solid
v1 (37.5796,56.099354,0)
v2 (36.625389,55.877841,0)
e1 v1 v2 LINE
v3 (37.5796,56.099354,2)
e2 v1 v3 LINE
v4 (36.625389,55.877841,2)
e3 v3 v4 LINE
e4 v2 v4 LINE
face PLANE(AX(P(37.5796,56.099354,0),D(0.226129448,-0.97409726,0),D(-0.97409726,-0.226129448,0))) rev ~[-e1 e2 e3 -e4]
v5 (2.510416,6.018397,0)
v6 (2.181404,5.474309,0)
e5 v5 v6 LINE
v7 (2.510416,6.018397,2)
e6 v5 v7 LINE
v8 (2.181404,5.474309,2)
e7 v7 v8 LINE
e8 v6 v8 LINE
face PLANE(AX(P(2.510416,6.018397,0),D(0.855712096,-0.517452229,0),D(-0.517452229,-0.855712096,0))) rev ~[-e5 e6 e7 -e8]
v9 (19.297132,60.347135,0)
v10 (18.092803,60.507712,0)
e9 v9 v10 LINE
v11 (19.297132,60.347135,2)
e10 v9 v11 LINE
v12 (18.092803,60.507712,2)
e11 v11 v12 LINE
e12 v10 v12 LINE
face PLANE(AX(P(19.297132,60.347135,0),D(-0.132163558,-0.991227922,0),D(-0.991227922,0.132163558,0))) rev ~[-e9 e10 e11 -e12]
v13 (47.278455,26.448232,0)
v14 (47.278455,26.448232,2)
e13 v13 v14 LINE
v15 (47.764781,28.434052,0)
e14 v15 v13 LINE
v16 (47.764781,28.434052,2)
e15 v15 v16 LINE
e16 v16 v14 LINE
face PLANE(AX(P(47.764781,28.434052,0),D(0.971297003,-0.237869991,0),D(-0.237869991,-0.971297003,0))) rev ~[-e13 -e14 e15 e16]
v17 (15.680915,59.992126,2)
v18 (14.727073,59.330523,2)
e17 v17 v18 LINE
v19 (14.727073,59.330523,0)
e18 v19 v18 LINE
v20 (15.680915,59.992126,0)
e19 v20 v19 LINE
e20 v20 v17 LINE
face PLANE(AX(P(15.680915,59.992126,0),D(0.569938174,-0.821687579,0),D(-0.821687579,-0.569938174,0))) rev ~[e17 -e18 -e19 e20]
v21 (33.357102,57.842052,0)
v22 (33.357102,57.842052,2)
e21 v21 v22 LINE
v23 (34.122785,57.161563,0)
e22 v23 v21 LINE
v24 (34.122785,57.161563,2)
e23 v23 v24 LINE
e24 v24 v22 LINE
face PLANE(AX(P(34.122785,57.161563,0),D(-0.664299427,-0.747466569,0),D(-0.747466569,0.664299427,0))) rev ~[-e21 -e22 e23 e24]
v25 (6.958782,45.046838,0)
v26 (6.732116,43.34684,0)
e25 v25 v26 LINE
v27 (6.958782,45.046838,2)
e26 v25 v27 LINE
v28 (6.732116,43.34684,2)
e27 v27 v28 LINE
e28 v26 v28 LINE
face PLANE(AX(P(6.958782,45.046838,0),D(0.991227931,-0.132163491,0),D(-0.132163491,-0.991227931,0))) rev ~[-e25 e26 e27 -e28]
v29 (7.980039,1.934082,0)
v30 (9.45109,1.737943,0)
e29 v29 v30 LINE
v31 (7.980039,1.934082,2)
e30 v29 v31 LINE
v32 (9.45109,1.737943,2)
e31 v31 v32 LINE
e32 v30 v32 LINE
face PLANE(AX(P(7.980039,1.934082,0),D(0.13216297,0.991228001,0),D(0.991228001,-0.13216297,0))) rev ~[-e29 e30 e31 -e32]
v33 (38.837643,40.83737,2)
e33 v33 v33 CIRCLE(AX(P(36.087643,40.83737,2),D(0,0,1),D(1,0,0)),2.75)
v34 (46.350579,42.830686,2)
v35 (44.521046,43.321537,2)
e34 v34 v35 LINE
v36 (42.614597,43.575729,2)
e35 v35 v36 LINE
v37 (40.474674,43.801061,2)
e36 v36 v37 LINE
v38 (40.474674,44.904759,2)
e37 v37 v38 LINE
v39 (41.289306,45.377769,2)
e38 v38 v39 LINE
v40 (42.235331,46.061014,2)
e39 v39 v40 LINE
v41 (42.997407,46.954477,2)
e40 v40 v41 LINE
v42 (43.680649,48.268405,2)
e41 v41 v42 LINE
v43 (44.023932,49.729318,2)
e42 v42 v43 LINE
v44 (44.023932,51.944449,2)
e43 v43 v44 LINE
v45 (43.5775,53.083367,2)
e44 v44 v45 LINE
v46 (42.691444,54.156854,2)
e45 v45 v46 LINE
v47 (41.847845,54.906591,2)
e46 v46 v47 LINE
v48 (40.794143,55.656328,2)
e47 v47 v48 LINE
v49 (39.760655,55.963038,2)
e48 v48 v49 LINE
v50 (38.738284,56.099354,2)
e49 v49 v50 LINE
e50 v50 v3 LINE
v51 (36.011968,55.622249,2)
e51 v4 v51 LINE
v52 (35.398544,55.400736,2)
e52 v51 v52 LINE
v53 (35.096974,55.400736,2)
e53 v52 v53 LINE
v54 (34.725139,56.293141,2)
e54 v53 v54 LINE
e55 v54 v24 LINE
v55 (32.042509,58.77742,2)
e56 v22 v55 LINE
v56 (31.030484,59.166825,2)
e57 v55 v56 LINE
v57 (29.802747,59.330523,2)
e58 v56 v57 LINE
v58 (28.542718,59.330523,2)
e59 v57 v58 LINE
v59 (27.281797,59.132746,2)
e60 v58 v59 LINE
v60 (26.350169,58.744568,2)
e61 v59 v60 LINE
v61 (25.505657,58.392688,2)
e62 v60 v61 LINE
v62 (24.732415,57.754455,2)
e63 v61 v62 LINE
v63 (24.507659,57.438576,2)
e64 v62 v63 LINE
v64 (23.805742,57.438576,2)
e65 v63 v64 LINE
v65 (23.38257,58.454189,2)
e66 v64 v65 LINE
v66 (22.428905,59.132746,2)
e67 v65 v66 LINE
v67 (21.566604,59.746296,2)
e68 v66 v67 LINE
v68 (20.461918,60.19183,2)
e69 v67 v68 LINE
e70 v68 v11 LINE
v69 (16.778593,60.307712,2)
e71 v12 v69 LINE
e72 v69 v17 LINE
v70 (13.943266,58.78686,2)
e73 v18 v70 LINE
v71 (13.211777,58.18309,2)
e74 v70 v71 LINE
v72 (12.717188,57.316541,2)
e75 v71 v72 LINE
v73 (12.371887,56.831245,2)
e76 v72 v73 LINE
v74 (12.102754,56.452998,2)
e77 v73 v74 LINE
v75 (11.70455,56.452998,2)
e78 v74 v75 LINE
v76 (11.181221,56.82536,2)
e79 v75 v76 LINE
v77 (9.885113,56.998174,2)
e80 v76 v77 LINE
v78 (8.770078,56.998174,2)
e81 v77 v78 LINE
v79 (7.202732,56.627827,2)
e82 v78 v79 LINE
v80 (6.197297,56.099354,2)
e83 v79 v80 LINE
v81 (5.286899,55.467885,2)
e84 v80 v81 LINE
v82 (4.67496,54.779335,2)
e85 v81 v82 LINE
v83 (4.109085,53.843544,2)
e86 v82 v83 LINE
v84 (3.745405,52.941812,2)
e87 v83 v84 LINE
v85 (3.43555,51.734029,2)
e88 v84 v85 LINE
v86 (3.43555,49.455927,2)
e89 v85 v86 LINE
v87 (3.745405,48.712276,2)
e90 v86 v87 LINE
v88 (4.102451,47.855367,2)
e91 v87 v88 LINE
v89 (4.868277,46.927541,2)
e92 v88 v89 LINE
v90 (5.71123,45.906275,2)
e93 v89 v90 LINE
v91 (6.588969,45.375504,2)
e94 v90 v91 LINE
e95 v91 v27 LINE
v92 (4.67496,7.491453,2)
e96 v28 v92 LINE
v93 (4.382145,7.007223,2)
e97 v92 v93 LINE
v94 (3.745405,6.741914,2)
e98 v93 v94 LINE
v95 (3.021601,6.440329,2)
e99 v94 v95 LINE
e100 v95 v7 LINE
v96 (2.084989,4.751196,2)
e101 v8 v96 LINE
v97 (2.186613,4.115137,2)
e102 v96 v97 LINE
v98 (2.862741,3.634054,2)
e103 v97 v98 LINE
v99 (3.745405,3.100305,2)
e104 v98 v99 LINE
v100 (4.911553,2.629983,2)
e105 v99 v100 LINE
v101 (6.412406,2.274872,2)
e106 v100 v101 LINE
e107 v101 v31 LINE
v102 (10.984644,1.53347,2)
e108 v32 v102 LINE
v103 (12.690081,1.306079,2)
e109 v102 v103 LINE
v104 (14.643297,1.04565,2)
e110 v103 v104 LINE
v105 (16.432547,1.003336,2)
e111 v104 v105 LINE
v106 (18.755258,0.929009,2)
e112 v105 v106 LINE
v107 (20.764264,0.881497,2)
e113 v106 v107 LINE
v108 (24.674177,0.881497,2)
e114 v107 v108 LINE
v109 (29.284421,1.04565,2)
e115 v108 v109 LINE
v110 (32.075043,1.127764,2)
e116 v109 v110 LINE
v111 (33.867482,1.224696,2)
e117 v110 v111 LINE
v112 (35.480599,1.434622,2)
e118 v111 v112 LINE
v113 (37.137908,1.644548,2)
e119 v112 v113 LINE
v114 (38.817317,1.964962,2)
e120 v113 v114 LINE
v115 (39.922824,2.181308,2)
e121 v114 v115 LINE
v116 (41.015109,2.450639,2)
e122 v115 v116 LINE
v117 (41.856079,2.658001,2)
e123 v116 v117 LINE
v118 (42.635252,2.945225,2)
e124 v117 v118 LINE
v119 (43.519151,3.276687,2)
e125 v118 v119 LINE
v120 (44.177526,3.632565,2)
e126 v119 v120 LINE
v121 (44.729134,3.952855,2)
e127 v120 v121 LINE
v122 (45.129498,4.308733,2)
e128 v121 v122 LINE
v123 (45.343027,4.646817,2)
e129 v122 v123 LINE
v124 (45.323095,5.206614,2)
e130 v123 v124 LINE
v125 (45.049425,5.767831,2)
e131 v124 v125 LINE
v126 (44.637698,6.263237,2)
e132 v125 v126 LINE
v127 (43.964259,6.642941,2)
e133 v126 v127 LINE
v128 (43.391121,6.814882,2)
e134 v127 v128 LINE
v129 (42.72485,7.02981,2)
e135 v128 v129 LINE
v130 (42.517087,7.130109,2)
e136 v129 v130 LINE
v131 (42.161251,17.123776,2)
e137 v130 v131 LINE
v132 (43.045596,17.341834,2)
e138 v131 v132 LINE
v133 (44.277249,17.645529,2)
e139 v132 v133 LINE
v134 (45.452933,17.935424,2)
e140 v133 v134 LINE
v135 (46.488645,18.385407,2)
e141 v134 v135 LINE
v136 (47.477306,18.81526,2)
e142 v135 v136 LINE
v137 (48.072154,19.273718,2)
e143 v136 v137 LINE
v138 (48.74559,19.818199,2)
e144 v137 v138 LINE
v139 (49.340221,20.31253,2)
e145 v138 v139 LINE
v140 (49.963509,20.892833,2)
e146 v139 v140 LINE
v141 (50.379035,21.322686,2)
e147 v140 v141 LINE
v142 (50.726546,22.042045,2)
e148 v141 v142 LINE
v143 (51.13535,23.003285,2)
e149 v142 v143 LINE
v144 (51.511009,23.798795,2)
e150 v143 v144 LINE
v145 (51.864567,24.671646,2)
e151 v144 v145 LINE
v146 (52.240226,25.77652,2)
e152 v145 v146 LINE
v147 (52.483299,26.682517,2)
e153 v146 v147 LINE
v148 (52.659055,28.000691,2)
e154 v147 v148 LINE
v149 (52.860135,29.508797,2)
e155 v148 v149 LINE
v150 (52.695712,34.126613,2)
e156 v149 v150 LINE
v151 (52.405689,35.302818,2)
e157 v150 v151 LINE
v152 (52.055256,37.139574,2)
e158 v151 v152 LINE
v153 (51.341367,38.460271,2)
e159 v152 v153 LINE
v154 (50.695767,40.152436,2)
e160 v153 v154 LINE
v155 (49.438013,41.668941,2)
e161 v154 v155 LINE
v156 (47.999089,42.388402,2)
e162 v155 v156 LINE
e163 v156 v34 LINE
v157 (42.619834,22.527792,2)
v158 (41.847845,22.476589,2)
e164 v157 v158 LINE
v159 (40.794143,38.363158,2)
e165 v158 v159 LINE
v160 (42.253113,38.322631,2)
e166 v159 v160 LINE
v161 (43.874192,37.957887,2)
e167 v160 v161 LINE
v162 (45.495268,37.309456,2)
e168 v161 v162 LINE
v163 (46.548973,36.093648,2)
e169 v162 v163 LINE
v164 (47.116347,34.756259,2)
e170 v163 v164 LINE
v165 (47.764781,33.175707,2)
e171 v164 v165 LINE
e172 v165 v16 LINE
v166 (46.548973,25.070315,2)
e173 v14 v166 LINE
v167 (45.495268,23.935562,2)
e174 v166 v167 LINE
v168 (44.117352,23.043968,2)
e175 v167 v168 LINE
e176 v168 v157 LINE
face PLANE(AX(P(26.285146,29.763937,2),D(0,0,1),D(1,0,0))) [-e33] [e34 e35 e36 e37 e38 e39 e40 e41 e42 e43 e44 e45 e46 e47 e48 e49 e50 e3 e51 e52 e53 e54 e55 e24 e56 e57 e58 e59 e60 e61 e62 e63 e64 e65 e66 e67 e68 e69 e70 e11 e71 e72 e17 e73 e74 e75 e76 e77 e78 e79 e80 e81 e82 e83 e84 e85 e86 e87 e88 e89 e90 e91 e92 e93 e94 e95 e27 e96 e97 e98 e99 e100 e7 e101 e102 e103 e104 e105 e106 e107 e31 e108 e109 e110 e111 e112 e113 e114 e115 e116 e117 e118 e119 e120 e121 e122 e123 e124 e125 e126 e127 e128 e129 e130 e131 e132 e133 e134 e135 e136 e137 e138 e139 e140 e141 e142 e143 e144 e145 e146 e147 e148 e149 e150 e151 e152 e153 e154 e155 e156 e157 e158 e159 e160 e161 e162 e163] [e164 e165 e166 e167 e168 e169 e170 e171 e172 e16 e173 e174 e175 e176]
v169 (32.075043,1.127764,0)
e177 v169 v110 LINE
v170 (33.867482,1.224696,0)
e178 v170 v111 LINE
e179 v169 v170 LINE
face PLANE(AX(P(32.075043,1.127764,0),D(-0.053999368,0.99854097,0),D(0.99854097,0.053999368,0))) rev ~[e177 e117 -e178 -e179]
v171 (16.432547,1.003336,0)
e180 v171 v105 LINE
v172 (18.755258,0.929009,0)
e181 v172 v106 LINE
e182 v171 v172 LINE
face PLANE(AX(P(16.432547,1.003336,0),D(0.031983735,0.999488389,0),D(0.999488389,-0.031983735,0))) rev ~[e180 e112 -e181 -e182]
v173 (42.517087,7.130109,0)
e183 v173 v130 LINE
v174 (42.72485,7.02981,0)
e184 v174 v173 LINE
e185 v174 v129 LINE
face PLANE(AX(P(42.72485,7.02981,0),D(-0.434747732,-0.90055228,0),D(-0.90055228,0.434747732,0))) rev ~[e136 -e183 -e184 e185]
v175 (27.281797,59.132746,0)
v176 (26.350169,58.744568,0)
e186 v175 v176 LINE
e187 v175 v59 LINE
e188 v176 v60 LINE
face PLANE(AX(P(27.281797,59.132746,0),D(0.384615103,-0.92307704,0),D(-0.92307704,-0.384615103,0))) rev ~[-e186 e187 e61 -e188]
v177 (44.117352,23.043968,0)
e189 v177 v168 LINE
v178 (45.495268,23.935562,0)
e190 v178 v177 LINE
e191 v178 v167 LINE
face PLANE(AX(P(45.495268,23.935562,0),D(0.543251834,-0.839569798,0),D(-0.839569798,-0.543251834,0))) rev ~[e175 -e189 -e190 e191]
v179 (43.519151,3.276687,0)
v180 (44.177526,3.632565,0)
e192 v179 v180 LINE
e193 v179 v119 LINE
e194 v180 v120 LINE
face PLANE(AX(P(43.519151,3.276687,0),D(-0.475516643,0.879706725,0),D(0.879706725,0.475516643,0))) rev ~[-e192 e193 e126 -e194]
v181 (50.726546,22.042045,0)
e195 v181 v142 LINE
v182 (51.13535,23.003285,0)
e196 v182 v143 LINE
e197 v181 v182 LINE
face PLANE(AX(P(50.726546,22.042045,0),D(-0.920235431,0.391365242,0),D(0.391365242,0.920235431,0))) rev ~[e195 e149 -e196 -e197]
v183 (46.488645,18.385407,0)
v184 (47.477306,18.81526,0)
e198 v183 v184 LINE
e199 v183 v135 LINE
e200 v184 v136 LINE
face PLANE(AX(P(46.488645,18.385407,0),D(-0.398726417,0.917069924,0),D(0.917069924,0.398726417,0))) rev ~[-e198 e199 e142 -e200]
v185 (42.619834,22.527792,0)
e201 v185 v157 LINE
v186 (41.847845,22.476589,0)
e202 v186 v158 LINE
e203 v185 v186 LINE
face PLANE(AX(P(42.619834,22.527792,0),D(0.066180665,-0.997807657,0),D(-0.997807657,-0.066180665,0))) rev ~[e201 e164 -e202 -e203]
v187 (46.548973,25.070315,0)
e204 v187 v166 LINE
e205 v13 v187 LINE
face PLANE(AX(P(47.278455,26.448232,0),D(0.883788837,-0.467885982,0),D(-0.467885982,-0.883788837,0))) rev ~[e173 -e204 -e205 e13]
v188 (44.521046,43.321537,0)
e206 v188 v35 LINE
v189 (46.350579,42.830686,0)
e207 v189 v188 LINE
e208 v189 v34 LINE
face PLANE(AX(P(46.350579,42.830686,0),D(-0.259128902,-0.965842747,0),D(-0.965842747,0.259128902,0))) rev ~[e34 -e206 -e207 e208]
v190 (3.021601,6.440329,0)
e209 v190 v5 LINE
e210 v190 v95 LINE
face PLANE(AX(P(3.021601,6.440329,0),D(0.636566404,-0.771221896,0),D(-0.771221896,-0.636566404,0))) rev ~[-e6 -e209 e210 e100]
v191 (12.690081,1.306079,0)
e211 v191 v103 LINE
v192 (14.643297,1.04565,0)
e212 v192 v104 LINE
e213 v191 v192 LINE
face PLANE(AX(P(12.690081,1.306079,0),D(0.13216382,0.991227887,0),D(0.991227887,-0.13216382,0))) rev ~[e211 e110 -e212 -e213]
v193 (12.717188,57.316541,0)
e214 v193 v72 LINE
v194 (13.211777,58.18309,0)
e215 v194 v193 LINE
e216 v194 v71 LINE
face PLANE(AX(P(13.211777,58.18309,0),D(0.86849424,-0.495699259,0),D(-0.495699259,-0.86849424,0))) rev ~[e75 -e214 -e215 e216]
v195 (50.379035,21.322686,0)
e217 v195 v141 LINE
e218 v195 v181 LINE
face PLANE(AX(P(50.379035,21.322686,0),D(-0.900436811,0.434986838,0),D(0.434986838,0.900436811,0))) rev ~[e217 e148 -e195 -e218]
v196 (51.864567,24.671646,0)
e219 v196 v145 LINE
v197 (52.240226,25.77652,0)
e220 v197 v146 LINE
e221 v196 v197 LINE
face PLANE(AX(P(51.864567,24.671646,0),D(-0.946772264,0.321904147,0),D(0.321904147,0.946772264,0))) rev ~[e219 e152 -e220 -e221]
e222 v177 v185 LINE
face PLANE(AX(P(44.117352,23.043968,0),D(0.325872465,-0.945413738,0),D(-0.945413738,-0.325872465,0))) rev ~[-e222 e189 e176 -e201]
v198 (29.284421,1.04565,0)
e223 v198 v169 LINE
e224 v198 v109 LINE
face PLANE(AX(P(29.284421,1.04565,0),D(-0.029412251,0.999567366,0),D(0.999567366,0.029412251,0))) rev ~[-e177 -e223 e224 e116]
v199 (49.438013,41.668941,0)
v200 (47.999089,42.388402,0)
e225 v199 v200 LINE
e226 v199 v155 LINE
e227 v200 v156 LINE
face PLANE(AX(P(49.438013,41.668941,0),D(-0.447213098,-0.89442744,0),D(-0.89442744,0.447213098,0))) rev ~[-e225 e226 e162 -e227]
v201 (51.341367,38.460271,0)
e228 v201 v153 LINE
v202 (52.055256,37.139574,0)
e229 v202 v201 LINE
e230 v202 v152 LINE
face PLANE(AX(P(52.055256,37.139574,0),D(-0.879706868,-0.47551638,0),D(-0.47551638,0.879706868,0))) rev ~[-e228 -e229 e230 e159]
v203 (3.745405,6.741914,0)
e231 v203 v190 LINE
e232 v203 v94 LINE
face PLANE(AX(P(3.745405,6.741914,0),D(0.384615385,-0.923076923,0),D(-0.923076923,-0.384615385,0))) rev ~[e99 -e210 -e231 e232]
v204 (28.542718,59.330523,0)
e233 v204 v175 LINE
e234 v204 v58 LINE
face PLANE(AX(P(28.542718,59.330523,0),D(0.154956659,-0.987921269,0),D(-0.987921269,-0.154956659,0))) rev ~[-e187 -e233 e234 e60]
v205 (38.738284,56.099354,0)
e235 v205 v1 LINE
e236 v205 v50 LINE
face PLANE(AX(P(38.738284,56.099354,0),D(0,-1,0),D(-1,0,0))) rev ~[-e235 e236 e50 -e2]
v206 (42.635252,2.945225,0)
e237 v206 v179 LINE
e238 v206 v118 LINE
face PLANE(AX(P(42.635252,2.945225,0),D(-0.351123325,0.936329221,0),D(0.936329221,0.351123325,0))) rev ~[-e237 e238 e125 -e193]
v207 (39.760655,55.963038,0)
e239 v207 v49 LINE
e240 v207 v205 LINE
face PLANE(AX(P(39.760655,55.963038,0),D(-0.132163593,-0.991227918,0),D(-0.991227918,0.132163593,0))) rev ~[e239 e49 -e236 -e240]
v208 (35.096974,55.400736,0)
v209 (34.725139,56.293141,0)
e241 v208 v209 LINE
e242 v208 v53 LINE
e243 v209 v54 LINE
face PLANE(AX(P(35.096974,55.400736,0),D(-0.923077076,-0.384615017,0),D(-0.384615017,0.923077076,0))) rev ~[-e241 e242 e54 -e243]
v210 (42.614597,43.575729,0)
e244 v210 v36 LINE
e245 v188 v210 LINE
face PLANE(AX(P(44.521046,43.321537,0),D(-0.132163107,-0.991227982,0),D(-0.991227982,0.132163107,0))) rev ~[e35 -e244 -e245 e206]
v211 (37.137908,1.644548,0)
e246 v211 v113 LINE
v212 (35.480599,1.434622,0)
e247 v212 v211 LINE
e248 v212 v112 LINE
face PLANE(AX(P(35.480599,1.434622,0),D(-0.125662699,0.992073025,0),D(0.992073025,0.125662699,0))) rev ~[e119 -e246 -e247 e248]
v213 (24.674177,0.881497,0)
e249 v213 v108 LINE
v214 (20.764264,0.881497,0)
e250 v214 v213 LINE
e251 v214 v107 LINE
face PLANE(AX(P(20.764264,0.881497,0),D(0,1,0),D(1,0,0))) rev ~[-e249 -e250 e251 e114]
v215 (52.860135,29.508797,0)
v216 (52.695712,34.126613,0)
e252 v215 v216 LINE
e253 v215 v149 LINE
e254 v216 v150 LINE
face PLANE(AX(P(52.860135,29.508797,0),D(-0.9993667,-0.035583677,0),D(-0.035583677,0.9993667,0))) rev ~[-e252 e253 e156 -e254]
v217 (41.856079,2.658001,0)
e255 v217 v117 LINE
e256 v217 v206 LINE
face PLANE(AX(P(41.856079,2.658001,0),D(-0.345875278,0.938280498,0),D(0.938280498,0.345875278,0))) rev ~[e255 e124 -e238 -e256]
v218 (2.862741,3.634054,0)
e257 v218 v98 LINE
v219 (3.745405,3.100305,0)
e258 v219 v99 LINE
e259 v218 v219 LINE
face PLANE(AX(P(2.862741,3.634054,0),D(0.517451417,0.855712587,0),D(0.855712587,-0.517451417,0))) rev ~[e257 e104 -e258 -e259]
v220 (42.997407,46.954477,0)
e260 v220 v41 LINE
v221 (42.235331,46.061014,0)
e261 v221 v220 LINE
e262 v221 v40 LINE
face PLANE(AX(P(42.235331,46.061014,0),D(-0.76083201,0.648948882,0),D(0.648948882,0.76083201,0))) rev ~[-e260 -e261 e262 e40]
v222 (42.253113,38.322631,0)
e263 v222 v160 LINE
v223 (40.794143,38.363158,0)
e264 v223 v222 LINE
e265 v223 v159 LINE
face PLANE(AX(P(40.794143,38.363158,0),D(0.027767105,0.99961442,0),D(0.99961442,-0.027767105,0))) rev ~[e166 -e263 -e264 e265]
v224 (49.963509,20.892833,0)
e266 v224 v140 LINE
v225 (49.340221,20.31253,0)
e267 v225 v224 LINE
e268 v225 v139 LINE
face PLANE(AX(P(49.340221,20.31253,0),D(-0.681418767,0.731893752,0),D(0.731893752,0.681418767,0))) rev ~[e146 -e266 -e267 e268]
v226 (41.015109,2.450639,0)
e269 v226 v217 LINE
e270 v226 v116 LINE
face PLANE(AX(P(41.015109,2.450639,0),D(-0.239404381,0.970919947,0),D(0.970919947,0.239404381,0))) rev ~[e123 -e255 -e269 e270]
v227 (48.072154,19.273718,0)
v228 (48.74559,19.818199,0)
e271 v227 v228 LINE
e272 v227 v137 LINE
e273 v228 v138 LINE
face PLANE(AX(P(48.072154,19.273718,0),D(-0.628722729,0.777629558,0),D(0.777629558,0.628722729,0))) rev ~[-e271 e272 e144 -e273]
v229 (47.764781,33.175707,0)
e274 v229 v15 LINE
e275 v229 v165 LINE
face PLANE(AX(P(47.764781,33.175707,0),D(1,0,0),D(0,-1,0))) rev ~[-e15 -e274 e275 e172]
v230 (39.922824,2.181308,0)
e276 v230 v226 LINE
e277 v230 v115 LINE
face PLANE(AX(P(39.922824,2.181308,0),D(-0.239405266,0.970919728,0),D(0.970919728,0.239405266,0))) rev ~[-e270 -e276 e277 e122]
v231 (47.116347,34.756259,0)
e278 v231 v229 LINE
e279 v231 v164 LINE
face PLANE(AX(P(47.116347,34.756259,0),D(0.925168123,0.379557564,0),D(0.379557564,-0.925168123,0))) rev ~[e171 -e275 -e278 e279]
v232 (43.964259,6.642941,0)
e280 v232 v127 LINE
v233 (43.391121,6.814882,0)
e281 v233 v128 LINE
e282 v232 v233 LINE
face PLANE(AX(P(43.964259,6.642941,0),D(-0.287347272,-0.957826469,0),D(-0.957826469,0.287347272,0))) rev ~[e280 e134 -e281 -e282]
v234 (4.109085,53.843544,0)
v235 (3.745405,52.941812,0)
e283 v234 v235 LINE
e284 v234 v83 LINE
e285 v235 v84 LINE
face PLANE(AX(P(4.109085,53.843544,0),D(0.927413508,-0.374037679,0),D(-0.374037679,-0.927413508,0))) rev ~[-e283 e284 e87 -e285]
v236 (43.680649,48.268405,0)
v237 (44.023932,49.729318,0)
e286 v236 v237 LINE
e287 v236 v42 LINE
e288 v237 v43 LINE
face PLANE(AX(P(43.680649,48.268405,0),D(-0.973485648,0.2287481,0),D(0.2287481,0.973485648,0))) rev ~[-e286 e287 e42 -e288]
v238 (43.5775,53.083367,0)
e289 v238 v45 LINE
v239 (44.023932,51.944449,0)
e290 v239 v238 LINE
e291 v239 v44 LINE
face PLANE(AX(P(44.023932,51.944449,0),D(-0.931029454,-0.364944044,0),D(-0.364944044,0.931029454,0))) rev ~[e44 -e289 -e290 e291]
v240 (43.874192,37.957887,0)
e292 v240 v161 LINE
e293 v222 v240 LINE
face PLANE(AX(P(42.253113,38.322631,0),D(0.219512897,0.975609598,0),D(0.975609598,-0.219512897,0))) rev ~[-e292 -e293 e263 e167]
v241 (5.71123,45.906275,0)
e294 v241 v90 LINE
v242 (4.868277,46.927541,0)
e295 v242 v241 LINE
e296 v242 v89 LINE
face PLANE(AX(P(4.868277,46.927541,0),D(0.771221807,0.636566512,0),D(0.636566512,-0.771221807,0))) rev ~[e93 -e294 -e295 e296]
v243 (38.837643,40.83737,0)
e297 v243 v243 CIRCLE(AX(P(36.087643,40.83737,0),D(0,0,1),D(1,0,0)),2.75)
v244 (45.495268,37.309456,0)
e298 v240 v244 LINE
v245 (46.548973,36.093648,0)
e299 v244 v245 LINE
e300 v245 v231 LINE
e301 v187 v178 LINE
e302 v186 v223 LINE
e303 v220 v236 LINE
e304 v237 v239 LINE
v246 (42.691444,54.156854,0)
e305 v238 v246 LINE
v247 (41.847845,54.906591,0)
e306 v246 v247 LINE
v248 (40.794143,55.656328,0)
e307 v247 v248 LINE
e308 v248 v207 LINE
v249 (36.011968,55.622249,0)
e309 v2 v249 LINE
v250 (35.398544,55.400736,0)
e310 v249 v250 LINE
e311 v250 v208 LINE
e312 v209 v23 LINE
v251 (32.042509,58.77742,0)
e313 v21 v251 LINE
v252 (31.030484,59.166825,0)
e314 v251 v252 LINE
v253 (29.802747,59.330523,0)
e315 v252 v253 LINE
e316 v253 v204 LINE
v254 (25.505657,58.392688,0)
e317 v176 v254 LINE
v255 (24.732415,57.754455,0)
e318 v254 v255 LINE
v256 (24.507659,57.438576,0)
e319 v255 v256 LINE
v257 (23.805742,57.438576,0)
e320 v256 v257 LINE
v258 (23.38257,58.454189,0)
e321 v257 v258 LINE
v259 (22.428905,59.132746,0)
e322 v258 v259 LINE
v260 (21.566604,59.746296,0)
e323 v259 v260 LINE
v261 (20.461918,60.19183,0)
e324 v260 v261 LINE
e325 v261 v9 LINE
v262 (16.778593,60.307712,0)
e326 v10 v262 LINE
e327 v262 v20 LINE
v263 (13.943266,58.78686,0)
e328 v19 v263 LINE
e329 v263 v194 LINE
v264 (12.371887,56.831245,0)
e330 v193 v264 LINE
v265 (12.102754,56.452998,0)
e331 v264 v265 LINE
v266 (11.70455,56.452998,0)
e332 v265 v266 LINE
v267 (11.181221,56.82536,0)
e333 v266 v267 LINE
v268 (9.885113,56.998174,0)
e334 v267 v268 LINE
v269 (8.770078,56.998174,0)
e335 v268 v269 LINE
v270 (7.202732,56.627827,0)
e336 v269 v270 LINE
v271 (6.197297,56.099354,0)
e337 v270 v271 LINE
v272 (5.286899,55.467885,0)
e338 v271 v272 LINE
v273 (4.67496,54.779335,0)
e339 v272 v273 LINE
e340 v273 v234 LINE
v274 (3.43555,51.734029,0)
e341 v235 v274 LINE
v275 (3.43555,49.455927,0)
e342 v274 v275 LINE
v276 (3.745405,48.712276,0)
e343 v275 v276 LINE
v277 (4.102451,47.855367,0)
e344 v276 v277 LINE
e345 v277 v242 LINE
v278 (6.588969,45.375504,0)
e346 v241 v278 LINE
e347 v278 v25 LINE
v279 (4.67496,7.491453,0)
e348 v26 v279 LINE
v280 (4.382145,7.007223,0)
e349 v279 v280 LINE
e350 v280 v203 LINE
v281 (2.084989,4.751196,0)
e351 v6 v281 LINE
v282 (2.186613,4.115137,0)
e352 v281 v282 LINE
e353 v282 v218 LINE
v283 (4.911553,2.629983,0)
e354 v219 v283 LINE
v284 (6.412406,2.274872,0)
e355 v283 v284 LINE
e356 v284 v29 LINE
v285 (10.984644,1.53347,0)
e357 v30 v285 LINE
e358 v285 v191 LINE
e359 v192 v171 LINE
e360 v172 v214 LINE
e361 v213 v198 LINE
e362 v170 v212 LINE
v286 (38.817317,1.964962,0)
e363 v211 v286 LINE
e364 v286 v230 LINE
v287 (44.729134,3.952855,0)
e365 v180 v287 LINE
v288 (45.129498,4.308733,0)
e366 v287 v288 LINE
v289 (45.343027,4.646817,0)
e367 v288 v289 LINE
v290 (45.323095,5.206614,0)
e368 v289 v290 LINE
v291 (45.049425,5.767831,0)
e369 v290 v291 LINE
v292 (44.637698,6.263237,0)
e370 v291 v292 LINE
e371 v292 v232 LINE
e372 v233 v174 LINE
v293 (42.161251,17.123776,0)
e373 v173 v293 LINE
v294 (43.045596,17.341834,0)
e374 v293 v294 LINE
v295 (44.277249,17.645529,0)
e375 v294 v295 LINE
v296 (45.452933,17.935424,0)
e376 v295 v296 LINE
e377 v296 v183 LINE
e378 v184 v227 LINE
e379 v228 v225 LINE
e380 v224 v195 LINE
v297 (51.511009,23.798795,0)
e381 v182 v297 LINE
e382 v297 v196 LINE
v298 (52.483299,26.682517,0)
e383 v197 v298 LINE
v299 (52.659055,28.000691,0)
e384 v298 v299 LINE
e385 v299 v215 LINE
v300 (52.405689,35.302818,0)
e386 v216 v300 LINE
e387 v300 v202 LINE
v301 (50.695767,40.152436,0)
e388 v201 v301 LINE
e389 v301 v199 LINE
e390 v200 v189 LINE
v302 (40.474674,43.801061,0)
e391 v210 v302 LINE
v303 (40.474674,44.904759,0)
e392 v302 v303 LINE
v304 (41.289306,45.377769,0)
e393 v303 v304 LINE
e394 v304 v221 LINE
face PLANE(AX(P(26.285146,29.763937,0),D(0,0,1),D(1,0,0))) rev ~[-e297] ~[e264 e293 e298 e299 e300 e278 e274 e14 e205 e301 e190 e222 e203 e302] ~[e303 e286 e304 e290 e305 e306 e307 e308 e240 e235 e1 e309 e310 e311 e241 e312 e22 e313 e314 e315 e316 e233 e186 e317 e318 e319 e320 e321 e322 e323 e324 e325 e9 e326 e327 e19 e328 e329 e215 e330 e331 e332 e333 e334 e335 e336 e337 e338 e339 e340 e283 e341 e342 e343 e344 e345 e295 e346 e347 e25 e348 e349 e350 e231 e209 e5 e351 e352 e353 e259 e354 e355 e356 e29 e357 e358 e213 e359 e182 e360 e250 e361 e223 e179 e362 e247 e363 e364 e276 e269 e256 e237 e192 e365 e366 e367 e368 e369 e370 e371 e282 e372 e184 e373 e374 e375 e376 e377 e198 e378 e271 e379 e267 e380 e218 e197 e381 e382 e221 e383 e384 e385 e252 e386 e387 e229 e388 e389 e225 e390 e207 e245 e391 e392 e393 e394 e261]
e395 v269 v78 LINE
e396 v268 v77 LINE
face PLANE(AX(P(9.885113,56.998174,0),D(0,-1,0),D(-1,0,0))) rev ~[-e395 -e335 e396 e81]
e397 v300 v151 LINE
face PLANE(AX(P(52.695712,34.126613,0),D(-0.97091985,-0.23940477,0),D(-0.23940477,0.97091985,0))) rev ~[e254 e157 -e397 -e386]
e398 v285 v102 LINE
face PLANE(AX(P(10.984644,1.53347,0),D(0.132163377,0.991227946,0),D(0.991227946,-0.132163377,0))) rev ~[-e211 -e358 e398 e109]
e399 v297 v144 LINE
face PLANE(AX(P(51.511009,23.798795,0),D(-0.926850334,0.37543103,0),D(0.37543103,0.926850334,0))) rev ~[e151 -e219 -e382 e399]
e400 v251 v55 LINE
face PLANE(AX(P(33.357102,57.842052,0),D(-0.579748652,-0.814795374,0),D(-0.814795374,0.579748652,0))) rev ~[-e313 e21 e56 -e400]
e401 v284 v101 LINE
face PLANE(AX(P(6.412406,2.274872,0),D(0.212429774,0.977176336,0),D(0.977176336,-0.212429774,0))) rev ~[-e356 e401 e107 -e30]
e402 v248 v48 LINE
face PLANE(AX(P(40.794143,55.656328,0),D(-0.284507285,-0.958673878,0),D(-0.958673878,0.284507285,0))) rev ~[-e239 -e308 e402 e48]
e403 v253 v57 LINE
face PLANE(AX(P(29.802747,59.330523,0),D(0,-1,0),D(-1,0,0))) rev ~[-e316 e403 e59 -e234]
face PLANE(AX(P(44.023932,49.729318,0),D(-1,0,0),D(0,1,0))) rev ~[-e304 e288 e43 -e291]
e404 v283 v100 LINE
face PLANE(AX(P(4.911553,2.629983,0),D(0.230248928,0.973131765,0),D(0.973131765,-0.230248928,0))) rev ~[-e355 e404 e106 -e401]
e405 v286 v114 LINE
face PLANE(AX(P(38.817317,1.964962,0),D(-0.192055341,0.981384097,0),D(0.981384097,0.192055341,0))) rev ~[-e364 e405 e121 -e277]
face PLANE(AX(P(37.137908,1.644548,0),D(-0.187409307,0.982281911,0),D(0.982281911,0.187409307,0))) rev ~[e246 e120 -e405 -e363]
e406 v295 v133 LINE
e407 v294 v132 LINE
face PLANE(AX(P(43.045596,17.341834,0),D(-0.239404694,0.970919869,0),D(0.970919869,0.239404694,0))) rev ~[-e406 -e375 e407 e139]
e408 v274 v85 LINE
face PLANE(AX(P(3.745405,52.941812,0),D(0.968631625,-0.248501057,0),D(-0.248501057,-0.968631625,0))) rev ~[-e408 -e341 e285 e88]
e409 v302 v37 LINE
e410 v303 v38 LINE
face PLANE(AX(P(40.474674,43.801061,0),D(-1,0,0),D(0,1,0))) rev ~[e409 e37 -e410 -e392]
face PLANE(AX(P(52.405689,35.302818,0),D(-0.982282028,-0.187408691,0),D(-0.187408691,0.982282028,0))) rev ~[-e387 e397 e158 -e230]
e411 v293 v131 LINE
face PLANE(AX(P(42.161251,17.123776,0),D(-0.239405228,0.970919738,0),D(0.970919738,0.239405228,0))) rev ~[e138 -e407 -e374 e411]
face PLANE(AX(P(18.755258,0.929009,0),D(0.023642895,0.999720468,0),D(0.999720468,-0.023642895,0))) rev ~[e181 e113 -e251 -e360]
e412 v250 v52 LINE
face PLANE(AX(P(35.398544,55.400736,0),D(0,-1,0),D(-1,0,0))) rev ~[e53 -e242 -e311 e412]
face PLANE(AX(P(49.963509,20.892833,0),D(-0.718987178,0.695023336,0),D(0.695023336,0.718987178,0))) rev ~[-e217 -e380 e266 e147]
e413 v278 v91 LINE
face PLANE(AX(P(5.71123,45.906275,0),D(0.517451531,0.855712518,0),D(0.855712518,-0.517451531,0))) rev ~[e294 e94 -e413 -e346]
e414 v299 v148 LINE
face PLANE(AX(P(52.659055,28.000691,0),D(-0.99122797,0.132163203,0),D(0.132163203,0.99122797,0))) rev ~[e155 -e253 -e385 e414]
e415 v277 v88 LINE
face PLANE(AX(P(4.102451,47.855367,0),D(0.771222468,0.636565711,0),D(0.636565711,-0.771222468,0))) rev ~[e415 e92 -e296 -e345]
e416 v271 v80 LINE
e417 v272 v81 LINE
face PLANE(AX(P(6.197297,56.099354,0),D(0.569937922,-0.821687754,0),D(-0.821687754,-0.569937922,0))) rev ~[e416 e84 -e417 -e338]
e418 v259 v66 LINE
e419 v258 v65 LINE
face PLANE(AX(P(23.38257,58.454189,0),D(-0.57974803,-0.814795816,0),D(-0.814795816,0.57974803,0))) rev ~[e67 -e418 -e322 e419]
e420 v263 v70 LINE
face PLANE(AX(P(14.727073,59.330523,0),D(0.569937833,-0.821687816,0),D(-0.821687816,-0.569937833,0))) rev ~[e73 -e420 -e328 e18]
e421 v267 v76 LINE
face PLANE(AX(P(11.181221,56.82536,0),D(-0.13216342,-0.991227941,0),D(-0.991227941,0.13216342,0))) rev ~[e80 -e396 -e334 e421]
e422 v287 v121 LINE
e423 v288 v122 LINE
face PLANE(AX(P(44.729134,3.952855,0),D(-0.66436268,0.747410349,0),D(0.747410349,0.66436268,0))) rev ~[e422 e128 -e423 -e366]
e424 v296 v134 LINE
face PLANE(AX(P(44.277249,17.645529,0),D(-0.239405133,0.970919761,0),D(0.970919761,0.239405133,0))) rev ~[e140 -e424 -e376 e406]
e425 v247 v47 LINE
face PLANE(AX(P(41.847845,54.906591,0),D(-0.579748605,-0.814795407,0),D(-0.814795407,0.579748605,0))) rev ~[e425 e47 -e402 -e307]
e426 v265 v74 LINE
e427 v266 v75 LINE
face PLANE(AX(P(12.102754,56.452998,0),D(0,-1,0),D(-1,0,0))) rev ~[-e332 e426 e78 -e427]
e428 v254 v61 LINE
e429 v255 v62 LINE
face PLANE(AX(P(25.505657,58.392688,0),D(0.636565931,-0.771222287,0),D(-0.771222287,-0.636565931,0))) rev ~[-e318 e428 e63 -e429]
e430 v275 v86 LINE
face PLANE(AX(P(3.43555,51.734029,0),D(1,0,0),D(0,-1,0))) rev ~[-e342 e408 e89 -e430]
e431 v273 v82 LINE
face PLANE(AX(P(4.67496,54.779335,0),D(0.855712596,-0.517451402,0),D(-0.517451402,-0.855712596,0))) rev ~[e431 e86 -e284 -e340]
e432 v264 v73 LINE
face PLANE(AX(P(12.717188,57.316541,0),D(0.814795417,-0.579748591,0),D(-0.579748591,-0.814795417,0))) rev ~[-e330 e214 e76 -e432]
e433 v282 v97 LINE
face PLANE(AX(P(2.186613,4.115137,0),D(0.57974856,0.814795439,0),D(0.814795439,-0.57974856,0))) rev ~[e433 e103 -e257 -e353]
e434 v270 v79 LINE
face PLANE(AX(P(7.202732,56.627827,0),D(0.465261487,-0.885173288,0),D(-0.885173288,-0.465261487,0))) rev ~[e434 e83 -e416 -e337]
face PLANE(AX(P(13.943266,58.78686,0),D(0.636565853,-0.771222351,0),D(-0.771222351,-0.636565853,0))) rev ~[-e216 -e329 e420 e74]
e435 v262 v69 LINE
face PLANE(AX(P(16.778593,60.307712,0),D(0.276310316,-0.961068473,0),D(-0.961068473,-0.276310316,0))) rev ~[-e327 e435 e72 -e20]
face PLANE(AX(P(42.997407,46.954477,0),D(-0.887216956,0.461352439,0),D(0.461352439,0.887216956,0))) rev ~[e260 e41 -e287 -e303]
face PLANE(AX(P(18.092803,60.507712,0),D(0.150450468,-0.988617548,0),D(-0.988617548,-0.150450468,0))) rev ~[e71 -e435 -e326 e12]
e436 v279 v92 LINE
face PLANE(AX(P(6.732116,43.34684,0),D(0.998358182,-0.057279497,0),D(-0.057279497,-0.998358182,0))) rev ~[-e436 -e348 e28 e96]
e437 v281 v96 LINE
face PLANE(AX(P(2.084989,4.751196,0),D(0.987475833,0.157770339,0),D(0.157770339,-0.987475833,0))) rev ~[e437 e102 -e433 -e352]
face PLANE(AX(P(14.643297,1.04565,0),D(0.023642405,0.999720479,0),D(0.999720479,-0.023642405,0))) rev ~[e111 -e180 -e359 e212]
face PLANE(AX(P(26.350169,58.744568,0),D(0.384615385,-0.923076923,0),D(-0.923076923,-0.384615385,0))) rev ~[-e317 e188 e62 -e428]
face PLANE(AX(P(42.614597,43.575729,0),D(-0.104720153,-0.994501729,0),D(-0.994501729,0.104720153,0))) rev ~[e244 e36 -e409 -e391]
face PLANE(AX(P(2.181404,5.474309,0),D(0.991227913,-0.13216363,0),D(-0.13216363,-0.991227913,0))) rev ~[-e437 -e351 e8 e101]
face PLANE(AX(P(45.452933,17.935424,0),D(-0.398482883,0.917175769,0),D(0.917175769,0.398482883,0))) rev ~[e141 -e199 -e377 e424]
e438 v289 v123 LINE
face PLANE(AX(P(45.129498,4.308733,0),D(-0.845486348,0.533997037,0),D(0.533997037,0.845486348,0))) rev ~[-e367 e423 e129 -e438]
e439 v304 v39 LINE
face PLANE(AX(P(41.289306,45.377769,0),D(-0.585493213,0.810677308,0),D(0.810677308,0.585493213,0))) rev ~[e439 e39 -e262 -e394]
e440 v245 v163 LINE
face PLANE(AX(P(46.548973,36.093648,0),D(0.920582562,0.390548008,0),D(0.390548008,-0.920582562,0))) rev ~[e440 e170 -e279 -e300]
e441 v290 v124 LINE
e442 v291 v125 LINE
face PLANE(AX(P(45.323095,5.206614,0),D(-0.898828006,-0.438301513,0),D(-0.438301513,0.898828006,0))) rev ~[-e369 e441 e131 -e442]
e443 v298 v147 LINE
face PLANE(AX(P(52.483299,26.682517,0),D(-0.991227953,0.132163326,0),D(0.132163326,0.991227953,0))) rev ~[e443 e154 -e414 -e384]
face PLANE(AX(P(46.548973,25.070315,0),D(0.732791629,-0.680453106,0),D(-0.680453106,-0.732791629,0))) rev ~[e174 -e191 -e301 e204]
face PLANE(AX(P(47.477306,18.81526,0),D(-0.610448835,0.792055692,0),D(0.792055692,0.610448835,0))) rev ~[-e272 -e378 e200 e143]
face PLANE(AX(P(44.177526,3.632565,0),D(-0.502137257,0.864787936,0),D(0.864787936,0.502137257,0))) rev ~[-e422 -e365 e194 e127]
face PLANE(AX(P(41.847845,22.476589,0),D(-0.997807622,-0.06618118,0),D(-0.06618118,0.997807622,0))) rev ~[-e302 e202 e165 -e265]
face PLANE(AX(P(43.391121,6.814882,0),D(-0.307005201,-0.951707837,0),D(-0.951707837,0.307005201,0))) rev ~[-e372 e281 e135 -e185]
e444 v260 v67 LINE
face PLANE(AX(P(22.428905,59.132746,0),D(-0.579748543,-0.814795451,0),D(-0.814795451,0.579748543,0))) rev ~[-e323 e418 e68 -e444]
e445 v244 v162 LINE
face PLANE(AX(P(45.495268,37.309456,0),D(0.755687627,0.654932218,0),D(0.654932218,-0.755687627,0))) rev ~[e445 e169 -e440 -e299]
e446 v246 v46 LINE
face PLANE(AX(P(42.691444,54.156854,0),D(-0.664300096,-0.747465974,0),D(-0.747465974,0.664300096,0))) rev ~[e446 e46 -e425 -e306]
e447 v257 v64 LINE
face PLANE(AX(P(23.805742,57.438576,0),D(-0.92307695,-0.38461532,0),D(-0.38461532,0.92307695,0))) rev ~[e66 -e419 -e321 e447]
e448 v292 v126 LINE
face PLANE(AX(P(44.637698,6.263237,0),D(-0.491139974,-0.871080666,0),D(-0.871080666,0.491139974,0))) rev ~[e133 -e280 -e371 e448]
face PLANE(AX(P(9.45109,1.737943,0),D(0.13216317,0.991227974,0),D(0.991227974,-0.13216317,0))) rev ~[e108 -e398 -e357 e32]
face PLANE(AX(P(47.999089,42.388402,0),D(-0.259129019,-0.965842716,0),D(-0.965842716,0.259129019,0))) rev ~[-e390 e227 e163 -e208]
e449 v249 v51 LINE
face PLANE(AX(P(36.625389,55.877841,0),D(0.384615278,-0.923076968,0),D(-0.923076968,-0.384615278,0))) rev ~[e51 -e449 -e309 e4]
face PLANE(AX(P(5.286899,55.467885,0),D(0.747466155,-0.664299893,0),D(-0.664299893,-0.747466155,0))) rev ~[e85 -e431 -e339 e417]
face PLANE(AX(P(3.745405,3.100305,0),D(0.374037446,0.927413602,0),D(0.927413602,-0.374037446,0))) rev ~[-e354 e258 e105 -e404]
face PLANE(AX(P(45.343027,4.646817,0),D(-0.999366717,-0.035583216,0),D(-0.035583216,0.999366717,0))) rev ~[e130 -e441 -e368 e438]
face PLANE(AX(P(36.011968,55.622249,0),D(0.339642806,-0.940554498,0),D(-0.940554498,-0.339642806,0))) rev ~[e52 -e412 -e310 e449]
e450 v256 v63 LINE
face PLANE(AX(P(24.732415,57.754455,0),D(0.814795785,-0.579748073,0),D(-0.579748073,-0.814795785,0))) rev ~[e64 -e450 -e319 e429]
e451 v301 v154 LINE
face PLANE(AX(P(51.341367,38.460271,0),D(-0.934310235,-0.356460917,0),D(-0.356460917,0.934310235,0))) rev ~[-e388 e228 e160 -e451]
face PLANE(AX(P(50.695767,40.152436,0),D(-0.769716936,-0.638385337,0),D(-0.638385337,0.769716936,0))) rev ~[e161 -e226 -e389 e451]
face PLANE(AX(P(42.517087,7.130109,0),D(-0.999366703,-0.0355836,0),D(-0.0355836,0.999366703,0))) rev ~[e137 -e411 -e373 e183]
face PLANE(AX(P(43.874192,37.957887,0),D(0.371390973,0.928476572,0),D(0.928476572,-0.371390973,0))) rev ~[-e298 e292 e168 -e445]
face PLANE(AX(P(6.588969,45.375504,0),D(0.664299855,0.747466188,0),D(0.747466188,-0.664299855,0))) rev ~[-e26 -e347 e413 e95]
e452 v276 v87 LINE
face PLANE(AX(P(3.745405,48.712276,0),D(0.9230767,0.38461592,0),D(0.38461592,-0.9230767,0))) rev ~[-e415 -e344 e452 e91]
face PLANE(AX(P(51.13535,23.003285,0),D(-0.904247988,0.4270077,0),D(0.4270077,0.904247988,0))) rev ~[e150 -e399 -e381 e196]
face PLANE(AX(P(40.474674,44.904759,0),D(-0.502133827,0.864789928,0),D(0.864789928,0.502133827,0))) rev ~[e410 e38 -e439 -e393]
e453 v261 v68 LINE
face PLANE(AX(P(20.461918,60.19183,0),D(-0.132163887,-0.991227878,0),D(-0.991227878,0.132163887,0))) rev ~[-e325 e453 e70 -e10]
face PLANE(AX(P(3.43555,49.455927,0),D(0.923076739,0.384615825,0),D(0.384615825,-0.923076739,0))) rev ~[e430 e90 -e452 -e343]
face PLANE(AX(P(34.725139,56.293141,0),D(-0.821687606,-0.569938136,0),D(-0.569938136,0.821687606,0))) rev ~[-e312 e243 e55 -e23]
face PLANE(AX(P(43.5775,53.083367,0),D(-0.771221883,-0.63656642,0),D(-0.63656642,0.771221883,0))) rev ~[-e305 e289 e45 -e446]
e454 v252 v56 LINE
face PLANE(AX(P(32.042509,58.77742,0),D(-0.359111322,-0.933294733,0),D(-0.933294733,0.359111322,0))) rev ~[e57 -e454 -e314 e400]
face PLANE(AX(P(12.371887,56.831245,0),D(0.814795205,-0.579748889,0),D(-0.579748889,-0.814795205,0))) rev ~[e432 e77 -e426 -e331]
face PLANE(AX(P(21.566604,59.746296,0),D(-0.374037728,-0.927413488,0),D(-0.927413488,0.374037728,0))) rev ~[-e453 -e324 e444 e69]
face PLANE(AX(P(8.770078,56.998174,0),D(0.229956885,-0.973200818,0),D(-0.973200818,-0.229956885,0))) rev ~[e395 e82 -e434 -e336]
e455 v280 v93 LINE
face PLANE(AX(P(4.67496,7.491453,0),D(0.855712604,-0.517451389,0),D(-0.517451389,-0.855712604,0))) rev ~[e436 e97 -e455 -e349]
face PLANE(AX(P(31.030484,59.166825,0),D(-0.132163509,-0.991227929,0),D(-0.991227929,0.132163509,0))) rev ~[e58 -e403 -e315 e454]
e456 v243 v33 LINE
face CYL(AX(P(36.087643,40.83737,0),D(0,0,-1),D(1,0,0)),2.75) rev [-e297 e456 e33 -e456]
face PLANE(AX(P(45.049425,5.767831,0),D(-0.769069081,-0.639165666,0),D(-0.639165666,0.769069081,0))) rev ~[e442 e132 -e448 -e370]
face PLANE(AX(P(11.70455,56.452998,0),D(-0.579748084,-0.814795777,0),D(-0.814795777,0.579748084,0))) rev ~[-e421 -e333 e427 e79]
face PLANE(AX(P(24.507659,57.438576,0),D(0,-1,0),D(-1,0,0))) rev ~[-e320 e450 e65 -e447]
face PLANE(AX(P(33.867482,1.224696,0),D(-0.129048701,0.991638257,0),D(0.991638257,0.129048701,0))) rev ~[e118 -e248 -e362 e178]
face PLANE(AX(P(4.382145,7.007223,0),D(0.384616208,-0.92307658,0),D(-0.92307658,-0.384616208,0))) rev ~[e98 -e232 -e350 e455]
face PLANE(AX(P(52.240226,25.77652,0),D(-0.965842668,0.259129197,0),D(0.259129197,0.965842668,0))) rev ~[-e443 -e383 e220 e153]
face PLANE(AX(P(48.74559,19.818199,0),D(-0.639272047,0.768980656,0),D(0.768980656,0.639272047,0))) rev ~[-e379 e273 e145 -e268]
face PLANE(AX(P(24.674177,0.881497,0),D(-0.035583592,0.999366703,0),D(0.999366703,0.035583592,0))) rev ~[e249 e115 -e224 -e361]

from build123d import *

# Parameters (mm, degrees)
F0_R     = 2.75
F1_DEPTH = 2


with BuildPart() as f1:
    # F0 (on Top) → F1 (new body)
    with BuildSketch(Plane.XY):
        Polygon((42.614597, 43.575729), (40.474674, 43.801061), (40.474674, 44.904759), (41.289306, 45.377769), (42.235331, 46.061014), (42.997407, 46.954477), (43.680649, 48.268405), (44.023932, 49.729318), (44.023932, 50.649449), (44.023932, 51.944449), (43.5775, 53.083367), (42.691444, 54.156854), (41.847845, 54.906591), (40.794143, 55.656328), (39.760655, 55.963038), (38.738284, 56.099354), (37.5796, 56.099354), (36.625389, 55.877841), (36.011968, 55.622249), (35.398544, 55.400736), (35.096974, 55.400736), (34.725139, 56.293141), (34.122785, 57.161563), (33.357102, 57.842052), (32.042509, 58.77742), (31.030484, 59.166825), (29.802747, 59.330523), (28.542718, 59.330523), (27.281797, 59.132746), (26.350169, 58.744568), (25.505657, 58.392688), (24.732415, 57.754455), (24.507659, 57.438576), (23.805742, 57.438576), (23.38257, 58.454189), (22.428905, 59.132746), (21.566604, 59.746296), (20.461918, 60.19183), (19.297132, 60.347135), (18.092803, 60.507712), (16.778593, 60.307712), (15.680915, 59.992126), (14.727073, 59.330523), (13.943266, 58.78686), (13.211777, 58.18309), (12.717188, 57.316541), (12.371887, 56.831245), (12.102754, 56.452998), (11.70455, 56.452998), (11.181221, 56.82536), (9.885113, 56.998174), (8.770078, 56.998174), (7.202732, 56.627827), (6.197297, 56.099354), (5.286899, 55.467885), (4.67496, 54.779335), (4.109085, 53.843544), (3.745405, 52.941812), (3.43555, 51.734029), (3.43555, 50.828029), (3.43555, 49.455927), (3.745405, 48.712276), (4.102451, 47.855367), (4.868277, 46.927541), (5.71123, 45.906275), (6.588969, 45.375504), (6.958782, 45.046838), (6.732116, 43.34684), (4.67496, 7.491453), (4.382145, 7.007223), (3.745405, 6.741914), (3.021601, 6.440329), (2.510416, 6.018397), (2.181404, 5.474309), (2.084989, 4.751196), (2.186613, 4.115137), (2.862741, 3.634054), (3.745405, 3.100305), (4.911553, 2.629983), (6.412406, 2.274872), (7.980039, 1.934082), (9.45109, 1.737943), (10.984644, 1.53347), (12.690081, 1.306079), (14.643297, 1.04565), (16.432547, 1.003336), (18.755258, 0.929009), (20.764264, 0.881497), (24.674177, 0.881497), (29.284421, 1.04565), (32.075043, 1.127764), (33.867482, 1.224696), (35.480599, 1.434622), (37.137908, 1.644548), (38.817317, 1.964962), (39.922824, 2.181308), (41.015109, 2.450639), (41.856079, 2.658001), (42.635252, 2.945225), (43.519151, 3.276687), (44.177526, 3.632565), (44.729134, 3.952855), (45.129498, 4.308733), (45.343027, 4.646817), (45.323095, 5.206614), (45.049425, 5.767831), (44.637698, 6.263237), (43.964259, 6.642941), (43.391121, 6.814882), (42.72485, 7.02981), (42.517087, 7.130109), (42.161251, 17.123776), (43.045596, 17.341834), (44.277249, 17.645529), (45.452933, 17.935424), (46.488645, 18.385407), (47.477306, 18.81526), (48.072154, 19.273718), (48.74559, 19.818199), (49.340221, 20.31253), (49.963509, 20.892833), (50.379035, 21.322686), (50.726546, 22.042045), (51.13535, 23.003285), (51.511009, 23.798795), (51.864567, 24.671646), (52.240226, 25.77652), (52.483299, 26.682517), (52.659055, 28.000691), (52.860135, 29.508797), (52.695712, 34.126613), (52.405689, 35.302818), (52.055256, 37.139574), (51.341367, 38.460271), (50.695767, 40.152436), (49.438013, 41.668941), (47.999089, 42.388402), (46.350579, 42.830686), (44.521046, 43.321537), align=None)
        Polygon((41.847845, 22.476589), (40.794143, 38.363158), (42.253113, 38.322631), (43.874192, 37.957887), (45.495268, 37.309456), (46.548973, 36.093648), (47.116347, 34.756259), (47.764781, 33.175707), (47.764781, 31.39252), (47.764781, 28.434052), (47.278455, 26.448232), (46.548973, 25.070315), (45.495268, 23.935562), (44.117352, 23.043968), (42.619834, 22.527792), align=None, mode=Mode.SUBTRACT)
        with Locations((36.087643, 40.83737)):
            Circle(F0_R, mode=Mode.SUBTRACT)
    extrude(amount=F1_DEPTH)


solid = f1.part
